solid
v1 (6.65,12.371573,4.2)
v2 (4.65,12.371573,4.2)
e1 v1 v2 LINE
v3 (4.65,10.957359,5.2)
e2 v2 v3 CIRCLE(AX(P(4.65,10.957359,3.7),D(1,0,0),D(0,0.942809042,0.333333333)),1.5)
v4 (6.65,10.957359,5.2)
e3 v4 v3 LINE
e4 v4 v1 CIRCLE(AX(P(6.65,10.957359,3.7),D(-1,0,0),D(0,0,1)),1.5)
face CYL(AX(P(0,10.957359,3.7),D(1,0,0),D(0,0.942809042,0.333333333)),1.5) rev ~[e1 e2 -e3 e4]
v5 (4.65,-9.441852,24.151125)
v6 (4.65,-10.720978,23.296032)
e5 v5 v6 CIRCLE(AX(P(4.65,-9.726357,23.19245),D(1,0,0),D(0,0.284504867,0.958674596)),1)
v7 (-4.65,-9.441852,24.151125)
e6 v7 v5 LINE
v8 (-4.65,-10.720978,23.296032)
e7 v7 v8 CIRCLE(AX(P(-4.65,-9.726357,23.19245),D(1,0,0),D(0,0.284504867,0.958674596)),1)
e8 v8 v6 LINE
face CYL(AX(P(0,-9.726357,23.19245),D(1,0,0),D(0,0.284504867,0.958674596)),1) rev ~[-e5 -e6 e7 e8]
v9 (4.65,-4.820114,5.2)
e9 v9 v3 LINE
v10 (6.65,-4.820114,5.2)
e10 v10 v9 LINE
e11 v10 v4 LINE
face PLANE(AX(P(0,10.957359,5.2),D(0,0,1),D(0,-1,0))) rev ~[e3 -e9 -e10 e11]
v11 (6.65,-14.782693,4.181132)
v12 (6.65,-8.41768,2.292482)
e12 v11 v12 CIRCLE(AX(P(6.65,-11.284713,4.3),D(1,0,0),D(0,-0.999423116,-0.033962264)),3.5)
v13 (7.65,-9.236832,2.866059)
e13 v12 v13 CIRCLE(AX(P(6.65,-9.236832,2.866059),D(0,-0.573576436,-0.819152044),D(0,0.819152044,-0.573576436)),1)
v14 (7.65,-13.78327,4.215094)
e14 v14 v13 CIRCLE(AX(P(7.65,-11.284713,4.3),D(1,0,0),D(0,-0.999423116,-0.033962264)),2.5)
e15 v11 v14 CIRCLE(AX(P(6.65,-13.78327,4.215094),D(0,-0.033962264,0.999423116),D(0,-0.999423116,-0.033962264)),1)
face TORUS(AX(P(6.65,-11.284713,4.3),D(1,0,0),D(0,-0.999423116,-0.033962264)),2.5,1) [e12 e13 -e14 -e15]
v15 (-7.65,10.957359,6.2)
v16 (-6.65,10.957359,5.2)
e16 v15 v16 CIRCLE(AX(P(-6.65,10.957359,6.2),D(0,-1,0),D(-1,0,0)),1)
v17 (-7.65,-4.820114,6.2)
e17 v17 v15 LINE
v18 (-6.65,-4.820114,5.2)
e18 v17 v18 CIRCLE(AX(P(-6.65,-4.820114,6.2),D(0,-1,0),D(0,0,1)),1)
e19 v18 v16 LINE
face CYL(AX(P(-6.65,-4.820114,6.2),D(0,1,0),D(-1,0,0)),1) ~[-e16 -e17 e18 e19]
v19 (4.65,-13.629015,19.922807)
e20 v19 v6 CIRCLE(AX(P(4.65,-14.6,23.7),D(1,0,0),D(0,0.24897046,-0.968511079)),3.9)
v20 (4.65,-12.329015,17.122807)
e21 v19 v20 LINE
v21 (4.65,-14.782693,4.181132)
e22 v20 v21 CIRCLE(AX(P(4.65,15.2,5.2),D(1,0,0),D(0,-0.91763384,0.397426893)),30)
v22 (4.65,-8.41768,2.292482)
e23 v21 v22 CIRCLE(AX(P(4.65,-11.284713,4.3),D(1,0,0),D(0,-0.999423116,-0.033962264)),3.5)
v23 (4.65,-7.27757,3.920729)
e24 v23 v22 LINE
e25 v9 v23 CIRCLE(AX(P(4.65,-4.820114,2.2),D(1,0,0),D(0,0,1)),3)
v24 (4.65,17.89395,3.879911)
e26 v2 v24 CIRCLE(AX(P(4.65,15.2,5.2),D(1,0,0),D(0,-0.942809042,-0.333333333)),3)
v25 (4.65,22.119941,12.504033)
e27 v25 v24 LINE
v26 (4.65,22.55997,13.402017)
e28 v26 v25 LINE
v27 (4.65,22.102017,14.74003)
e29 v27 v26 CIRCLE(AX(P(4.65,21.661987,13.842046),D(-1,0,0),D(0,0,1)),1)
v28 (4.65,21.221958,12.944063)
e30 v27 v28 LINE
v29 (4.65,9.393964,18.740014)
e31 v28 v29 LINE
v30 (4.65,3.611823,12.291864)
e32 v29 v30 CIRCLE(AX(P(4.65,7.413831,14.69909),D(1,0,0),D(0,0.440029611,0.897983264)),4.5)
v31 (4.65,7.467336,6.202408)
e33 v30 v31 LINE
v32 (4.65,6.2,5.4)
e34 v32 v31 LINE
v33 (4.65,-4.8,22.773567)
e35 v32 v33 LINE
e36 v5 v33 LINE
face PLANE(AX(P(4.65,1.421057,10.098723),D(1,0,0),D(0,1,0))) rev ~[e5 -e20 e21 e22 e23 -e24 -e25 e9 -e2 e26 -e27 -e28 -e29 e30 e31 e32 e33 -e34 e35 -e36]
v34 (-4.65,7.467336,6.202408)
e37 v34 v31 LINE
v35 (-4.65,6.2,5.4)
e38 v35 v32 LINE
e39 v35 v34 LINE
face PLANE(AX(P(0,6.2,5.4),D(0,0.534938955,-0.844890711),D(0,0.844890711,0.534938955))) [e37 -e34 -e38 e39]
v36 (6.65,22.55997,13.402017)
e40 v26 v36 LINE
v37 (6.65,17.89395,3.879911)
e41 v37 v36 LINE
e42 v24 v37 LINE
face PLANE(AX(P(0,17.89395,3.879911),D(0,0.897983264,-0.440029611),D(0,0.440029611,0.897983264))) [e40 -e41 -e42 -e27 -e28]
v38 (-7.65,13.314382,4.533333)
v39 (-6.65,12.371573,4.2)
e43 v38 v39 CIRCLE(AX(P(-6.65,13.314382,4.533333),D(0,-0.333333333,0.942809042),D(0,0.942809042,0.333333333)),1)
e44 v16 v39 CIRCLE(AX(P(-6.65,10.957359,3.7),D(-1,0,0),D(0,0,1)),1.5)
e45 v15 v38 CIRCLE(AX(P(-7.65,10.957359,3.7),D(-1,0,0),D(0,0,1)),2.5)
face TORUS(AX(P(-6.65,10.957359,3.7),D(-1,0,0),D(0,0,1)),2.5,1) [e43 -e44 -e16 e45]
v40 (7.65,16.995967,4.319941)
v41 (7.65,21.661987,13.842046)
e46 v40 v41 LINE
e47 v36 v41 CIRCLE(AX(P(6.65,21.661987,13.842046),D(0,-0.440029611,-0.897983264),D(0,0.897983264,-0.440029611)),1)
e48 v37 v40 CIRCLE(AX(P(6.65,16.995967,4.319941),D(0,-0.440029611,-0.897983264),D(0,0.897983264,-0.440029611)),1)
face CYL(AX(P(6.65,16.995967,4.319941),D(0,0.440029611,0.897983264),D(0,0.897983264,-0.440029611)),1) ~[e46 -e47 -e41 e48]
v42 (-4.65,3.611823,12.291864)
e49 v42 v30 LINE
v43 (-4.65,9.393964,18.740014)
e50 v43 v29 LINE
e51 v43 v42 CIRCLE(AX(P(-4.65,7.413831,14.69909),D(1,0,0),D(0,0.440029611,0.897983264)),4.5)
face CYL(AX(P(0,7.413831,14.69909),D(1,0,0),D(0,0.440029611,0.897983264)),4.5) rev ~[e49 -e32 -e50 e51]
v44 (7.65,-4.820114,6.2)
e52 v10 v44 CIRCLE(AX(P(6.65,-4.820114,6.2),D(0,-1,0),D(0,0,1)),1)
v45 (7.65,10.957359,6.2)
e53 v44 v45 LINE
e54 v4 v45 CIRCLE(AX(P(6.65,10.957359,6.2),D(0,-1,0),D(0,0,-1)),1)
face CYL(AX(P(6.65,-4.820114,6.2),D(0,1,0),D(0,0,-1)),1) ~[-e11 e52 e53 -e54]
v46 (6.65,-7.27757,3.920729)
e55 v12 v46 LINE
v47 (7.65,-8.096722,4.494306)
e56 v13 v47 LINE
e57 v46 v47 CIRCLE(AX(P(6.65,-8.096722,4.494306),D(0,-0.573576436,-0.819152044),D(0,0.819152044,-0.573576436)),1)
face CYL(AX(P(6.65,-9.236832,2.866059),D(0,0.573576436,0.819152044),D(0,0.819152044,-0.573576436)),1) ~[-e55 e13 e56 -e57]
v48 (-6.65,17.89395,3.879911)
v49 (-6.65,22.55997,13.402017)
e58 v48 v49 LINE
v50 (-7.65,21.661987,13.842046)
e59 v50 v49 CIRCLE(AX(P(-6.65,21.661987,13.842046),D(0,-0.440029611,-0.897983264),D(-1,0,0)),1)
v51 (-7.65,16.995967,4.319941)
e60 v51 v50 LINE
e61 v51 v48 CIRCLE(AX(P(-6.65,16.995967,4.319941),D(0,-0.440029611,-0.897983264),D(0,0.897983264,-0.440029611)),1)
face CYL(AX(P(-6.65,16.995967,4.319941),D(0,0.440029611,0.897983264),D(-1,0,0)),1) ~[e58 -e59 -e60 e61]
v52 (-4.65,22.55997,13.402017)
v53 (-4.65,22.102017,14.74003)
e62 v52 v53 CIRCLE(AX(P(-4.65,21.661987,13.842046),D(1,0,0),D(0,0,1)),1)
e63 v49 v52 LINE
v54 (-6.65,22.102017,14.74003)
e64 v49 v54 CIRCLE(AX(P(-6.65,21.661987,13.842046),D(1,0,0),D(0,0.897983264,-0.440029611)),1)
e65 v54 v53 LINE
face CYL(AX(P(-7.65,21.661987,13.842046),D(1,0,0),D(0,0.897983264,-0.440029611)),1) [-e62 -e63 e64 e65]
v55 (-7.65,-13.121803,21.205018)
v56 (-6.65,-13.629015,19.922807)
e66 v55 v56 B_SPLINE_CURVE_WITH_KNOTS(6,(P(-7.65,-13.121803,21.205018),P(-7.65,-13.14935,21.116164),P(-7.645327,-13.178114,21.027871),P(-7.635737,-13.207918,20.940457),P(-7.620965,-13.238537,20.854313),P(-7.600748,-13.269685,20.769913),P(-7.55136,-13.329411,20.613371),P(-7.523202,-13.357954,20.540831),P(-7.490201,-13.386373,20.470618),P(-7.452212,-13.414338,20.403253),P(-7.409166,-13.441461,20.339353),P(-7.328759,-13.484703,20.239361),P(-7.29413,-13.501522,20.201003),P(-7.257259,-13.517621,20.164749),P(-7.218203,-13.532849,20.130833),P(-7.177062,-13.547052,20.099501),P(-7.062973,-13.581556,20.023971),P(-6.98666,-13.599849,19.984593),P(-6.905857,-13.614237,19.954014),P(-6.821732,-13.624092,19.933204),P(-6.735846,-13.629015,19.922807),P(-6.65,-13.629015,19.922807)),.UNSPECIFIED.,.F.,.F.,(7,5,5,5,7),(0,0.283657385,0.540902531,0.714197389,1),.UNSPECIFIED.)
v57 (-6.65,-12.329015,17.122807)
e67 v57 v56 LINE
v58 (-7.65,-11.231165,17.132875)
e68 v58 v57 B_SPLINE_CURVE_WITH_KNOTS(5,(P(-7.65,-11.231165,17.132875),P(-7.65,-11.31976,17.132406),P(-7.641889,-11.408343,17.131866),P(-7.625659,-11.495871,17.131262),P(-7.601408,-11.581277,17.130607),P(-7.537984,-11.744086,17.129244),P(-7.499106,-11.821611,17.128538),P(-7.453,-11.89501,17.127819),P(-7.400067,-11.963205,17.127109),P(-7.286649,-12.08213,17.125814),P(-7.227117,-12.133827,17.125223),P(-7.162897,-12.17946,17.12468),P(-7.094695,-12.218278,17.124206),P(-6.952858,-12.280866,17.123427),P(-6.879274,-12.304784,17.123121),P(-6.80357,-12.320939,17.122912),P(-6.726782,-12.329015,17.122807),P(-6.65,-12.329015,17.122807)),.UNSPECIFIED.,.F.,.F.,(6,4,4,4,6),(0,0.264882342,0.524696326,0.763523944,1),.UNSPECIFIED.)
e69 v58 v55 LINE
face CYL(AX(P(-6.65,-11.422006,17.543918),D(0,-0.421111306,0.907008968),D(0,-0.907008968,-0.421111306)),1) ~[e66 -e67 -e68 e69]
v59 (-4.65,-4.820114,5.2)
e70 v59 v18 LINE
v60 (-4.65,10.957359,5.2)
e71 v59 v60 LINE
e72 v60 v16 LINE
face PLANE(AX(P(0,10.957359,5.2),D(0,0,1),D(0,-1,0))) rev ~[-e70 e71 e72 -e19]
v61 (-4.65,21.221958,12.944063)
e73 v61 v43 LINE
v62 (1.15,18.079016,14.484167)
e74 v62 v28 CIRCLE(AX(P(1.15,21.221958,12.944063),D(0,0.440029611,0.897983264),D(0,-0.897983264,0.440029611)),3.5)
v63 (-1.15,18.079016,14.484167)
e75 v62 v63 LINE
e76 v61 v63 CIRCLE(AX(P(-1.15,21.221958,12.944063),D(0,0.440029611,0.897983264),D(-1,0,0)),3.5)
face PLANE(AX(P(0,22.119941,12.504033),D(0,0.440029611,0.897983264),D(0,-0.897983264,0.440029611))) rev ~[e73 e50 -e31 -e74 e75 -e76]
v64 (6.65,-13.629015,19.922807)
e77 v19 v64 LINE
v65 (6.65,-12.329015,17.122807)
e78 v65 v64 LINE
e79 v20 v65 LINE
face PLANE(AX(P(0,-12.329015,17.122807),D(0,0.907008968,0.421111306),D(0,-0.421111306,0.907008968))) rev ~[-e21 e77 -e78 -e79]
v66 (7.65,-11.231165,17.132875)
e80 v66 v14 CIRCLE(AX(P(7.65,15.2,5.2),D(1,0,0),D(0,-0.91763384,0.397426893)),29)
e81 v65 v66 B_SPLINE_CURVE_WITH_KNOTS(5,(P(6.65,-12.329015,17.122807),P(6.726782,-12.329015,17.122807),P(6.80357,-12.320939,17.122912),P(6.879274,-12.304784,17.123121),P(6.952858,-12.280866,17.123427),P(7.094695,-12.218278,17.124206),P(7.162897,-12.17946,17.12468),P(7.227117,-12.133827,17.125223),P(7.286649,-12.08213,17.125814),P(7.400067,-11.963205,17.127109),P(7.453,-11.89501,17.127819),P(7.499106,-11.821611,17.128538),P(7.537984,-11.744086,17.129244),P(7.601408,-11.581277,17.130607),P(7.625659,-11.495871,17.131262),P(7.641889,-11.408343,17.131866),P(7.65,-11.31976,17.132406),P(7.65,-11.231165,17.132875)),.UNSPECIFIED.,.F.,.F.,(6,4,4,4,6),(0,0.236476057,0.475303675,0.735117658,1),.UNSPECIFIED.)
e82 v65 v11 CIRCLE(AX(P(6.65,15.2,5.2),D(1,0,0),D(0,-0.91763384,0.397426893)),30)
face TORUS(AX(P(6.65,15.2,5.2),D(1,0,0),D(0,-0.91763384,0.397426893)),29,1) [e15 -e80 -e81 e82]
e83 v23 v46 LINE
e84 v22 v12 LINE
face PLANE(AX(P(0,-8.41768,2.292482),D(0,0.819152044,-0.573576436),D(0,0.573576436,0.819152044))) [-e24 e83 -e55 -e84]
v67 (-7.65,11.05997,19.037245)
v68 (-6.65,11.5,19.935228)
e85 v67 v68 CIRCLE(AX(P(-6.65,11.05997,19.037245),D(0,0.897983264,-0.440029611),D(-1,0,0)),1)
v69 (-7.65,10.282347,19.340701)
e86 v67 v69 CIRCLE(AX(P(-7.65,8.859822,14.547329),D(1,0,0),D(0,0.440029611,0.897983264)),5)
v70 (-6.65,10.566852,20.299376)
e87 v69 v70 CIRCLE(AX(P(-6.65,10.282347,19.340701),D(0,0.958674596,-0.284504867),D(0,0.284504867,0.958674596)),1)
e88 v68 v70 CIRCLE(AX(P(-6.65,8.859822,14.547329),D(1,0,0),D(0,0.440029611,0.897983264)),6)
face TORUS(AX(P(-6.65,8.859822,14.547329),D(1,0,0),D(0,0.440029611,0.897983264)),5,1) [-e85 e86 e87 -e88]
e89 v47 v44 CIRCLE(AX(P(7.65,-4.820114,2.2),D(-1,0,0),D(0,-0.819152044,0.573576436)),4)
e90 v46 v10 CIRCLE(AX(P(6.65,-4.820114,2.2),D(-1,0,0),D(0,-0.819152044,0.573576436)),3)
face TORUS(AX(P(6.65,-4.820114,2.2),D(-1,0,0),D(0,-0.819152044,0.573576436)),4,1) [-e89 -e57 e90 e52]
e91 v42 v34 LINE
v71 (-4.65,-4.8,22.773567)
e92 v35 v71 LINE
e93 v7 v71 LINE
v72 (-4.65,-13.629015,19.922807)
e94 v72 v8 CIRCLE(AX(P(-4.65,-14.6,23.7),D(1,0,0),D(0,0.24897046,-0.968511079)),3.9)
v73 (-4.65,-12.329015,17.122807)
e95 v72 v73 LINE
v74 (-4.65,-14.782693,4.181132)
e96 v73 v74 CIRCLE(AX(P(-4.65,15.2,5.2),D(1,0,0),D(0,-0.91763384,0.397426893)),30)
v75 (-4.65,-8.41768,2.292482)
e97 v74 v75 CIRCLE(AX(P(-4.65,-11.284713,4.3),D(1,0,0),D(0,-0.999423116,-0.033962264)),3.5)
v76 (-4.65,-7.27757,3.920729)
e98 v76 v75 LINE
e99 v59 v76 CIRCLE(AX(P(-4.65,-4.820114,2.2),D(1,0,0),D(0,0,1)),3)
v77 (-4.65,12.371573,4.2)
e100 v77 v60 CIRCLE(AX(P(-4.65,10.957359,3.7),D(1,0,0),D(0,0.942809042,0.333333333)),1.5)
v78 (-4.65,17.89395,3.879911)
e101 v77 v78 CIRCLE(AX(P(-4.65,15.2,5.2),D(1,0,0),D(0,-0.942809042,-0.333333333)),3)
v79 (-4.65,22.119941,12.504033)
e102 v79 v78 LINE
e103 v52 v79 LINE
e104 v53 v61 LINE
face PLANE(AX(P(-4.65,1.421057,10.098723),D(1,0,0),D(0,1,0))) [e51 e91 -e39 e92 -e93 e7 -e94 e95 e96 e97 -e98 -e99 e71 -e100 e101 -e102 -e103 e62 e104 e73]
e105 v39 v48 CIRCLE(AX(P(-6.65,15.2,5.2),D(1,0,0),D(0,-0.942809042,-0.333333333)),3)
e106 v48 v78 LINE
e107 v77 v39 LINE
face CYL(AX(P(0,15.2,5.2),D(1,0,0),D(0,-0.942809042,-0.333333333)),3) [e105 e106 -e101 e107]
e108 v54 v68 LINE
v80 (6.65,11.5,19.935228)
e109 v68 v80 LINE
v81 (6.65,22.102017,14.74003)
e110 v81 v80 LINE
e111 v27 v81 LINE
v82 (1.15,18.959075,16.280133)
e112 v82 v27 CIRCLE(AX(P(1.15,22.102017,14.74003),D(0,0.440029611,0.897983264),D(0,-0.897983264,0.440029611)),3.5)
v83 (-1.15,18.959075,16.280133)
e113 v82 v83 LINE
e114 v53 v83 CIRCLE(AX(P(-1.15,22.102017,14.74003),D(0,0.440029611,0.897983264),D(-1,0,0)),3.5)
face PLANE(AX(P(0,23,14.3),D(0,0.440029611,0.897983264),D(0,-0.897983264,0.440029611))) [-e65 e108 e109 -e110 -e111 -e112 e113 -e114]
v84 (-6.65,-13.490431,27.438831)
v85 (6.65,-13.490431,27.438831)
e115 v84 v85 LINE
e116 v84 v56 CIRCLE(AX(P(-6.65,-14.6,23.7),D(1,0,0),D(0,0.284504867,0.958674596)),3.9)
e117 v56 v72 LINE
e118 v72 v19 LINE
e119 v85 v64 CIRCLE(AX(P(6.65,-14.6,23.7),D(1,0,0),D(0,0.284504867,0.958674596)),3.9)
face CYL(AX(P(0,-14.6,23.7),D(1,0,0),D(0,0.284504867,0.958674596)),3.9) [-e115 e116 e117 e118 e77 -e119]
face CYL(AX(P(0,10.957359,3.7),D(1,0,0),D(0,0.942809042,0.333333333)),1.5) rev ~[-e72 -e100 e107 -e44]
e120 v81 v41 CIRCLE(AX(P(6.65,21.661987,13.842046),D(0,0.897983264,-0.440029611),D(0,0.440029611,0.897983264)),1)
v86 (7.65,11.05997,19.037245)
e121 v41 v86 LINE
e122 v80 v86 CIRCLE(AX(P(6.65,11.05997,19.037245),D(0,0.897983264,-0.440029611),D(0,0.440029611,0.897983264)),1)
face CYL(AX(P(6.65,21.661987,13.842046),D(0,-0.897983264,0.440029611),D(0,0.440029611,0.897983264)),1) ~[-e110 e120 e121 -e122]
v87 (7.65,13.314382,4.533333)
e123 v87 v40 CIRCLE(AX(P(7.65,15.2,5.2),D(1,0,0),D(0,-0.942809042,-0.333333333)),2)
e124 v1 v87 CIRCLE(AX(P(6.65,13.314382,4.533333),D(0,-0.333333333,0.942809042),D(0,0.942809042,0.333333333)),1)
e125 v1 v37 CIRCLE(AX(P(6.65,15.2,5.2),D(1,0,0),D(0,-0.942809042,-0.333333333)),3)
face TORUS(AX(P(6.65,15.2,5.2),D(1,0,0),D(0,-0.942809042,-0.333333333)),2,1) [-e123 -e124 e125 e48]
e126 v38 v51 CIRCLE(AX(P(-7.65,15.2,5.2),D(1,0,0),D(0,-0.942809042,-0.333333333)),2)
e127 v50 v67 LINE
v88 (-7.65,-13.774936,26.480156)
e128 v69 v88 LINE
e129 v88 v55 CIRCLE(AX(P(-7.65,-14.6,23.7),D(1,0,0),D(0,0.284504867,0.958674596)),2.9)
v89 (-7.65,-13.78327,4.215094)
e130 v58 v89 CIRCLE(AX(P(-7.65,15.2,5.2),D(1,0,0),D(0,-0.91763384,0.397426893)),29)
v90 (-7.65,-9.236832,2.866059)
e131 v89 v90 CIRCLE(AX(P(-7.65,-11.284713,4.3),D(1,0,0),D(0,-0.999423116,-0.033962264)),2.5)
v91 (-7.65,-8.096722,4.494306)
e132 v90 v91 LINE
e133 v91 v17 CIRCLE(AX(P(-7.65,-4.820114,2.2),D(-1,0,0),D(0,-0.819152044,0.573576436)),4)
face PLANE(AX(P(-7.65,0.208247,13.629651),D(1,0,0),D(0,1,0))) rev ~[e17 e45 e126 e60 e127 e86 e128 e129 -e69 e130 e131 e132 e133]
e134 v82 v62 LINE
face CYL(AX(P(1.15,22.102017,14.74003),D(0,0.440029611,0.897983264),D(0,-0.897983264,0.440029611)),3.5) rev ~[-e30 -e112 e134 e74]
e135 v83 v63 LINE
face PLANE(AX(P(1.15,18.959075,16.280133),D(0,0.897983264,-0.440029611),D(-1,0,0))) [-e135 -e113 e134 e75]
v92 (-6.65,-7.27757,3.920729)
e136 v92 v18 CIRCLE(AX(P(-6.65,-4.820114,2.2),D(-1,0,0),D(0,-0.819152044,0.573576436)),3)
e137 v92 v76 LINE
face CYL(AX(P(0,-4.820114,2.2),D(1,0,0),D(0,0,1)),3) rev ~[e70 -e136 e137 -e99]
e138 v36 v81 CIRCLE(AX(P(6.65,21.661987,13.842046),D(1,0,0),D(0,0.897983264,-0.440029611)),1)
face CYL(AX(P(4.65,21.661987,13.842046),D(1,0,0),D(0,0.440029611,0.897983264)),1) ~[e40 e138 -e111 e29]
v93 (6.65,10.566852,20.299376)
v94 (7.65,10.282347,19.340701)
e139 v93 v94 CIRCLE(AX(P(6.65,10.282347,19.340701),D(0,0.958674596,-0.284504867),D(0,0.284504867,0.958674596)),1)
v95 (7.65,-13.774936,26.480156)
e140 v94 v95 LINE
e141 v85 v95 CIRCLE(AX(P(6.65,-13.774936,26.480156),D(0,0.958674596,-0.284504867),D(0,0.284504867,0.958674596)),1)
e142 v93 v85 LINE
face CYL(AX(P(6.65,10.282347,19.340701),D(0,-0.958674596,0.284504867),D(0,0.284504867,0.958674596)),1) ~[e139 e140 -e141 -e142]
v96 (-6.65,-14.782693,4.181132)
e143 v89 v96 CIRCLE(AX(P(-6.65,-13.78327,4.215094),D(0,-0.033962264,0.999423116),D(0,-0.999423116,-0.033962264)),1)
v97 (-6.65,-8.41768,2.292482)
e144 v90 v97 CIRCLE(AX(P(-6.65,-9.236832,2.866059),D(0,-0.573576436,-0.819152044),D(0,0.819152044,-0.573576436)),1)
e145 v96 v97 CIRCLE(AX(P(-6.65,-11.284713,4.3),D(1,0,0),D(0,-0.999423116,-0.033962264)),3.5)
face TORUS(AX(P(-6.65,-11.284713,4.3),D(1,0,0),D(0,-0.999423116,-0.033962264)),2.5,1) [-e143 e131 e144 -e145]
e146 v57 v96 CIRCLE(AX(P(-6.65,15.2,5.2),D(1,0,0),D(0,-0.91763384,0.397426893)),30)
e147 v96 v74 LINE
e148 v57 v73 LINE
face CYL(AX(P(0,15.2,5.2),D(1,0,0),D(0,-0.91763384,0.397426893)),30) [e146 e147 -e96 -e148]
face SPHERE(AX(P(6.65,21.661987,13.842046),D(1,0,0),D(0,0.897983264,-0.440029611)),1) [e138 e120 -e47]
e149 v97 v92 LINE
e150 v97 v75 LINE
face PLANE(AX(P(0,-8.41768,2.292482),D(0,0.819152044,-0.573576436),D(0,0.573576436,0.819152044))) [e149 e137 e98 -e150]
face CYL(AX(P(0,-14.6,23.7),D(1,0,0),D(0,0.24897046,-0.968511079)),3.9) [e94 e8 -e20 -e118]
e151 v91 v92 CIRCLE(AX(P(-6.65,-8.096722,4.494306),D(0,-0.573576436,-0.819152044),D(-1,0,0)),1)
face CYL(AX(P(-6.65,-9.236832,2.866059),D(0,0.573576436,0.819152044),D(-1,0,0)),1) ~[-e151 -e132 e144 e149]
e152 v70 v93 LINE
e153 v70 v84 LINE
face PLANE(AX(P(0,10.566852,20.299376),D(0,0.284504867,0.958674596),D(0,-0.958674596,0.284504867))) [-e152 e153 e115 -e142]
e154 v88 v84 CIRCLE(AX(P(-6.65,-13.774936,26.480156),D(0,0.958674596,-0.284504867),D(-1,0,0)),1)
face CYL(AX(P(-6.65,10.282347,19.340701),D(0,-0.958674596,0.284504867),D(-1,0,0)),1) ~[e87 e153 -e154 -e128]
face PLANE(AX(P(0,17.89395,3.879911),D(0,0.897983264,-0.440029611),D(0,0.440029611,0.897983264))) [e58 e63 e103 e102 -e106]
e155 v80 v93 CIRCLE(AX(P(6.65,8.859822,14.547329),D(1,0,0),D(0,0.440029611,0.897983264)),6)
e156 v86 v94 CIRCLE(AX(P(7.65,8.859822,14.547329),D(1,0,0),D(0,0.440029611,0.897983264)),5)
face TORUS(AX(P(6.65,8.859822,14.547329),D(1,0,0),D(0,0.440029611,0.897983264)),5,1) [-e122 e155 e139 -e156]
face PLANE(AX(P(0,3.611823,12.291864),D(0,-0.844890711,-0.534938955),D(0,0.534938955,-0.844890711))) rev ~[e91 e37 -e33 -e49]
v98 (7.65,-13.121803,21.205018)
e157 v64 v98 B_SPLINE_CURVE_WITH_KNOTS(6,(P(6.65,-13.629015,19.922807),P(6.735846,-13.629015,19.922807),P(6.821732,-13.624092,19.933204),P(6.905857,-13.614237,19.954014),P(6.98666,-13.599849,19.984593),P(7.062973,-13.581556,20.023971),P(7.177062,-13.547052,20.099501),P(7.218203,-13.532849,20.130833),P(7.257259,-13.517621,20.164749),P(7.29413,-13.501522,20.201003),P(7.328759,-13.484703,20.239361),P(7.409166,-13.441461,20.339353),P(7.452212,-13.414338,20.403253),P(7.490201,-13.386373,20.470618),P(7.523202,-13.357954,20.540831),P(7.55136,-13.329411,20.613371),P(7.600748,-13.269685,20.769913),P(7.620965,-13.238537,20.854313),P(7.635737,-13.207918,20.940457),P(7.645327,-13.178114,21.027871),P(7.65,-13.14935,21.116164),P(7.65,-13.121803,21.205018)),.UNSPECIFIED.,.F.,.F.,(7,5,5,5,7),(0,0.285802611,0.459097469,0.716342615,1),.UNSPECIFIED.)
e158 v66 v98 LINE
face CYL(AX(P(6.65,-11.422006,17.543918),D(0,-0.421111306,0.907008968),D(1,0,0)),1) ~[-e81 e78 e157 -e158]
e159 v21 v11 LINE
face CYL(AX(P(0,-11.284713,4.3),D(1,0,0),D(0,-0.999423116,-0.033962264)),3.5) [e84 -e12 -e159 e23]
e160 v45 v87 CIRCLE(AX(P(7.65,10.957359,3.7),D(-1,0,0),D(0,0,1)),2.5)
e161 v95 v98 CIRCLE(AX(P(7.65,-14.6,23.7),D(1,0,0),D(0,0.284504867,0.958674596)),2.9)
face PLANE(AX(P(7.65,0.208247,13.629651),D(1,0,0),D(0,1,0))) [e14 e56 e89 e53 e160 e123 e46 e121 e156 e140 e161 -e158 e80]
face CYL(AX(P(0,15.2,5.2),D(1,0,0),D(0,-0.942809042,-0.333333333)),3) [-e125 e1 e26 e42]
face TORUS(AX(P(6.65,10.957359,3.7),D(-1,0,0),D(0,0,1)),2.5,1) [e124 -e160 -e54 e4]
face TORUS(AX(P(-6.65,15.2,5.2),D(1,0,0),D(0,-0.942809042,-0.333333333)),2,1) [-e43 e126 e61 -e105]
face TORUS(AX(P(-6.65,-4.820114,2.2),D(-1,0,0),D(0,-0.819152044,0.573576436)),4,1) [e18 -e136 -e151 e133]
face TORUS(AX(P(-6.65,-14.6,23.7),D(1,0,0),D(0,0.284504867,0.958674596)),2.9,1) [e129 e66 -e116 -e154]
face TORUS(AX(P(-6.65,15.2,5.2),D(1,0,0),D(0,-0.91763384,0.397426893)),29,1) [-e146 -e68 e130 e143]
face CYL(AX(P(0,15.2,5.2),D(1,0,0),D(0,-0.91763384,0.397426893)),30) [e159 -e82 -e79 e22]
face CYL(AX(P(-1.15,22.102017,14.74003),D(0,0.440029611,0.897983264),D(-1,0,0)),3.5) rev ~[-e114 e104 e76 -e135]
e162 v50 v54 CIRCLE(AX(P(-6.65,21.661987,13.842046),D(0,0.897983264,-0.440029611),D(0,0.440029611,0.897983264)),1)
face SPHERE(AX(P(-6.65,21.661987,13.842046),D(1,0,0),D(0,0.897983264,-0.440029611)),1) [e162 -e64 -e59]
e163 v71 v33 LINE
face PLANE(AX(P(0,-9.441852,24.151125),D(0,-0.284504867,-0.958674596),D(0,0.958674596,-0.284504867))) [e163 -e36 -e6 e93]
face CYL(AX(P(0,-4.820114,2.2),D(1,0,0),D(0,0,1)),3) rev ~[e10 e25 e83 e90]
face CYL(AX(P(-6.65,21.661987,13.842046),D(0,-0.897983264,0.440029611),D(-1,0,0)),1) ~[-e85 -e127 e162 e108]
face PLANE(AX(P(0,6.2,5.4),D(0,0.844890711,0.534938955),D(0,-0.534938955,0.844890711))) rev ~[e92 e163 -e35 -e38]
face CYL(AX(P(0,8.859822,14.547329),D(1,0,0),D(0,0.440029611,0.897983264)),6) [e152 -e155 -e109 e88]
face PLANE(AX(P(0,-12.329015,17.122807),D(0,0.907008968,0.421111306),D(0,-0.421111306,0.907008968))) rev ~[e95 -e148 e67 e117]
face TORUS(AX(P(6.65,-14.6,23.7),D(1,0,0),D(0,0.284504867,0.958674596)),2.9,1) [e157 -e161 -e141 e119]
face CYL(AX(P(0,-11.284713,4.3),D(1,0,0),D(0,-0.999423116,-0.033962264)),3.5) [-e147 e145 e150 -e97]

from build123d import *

# Parameters (mm, degrees)
PAD004_DEPTH    = 7.65
POCKET003_DEPTH = 4.65
POCKET004_DEPTH = 2
FILLET007_R     = 1
FILLET008_R     = 1


with BuildPart() as part:
    # Sketch009 → Pad004 (new body, symmetric)
    with BuildSketch(Plane.YZ):
        with BuildLine():
            ThreePointArc((-2.8284271247, -1), (-0.1735950846, -2.9949732464), (2.6939497909, -1.3200888318))
            Line((2.6939497909, -1.3200888318), (7.8, 9.1))
            Line((7.8, 9.1), (-3.7, 14.7352281014))
            ThreePointArc((-3.7, 14.7352281014), (-4.158961759, 14.9368094594), (-4.6331484619, 15.0993760945))
            Line((-4.6331484619, 15.0993760945), (-28.6904310189, 22.2388309237))
            ThreePointArc((-28.6904310189, 22.2388309237), (-33.6993372116, 18.5718979166), (-28.8290152057, 14.7228067922))
            Line((-27.5290152057, 11.9228067922), (-28.8290152057, 14.7228067922))
            ThreePointArc((-27.5290152057, 11.9228067922), (-29.4749197629, 5.5883007232), (-29.9826934773, -1.0188679245))
            ThreePointArc((-29.9826934773, -1.0188679245), (-27.4803397166, -4.255402597), (-23.6176804166, -2.9075175272))
            Line((-23.6176804166, -2.9075175272), (-22.4775697078, -1.2792706909))
            ThreePointArc((-20.0201135749, 0), (-21.4053594146, -0.3389675005), (-22.4775697078, -1.2792706909))
            Line((-4.2426406871, 0), (-20.0201135749, 0))
            ThreePointArc((-2.8284271247, -1), (-3.3766152833, -0.2752551286), (-4.2426406871, 0))
        make_face()
    extrude(amount=PAD004_DEPTH, both=True)

    # Sketch010 → Pocket003 (cut, symmetric)
    with BuildSketch(Plane.YZ):
        with BuildLine():
            Line((6.9199407788, 7.3040334727), (-5.8060355253, 13.5400142802))
            ThreePointArc((-5.8060355253, 13.5400142802), (-11.1364622888, 12.5033421393), (-11.5881769744, 7.0918642957))
            Line((-11.5881769744, 7.0918642957), (-7.7326639328, 1.0024084327))
            Line((-9, 0.2), (-7.7326639328, 1.0024084327))
            Line((-9, 0.2), (-20, 17.5735670895))
            Line((-24.6418524264, 18.9511248267), (-20, 17.5735670895))
            ThreePointArc((-24.6418524264, 18.9511248267), (-25.4821110434, 18.8237971917), (-25.9209782539, 18.0960318164))
            ThreePointArc((-28.8290152057, 14.7228067922), (-26.8461376765, 15.9534931036), (-25.9209782539, 18.0960318164))
            Line((-28.8290152057, 14.7228067922), (-34.6400816793, 13.2289840317))
            Line((-34.6400816793, 13.2289840317), (-31.0800592212, -4.6959665273))
            Line((-31.0800592212, -4.6959665273), (6.9199407788, -4.6959665273))
            Line((6.9199407788, -4.6959665273), (6.9199407788, 7.3040334727))
        make_face()
    extrude(amount=POCKET003_DEPTH, both=True, mode=Mode.SUBTRACT)

    # Sketch011 (on Face6 of Pocket003) → Pocket004 (cut)
    with BuildSketch(Plane(origin=(0, 5.1060502091, 10.4200888318), x_dir=(0, -0.8979832636, 0.4400296106), z_dir=(0, 0.4400296106, 0.8979832636))):
        with BuildLine():
            Line((-3, 4.65), (-2, 4.65))
            ThreePointArc((1.5, 1.15), (0.4748737342, 3.6248737342), (-2, 4.65))
            Line((1.5, 1.15), (1.5, -1.15))
            ThreePointArc((-2, -4.65), (0.4748737342, -3.6248737342), (1.5, -1.15))
            Line((-2, -4.65), (-3, -4.65))
            Line((-3, -4.65), (-3, 4.65))
        make_face()
    extrude(amount=-POCKET004_DEPTH, mode=Mode.SUBTRACT)

    # Fillet007
    fillet007_edges = [part.edges().sort_by_distance(p)[0] for p in [
        (-6.15, 7.8, 9.1),
        (6.15, 7.8, 9.1),
    ]]
    fillet(fillet007_edges, radius=FILLET007_R)

    # Fillet008
    fillet008_edges = [part.edges().sort_by_distance(p)[0] for p in [
        (7.65, -16.66179, 18.669104),
        (-7.65, -16.66179, 18.669104),
        (-7.65, -28.179015, 13.322807),
        (7.65, -28.179015, 13.322807),
    ]]
    fillet(fillet008_edges, radius=FILLET008_R)


with BuildPart() as part_1:
    # Body003 placement: moved
    add(part.part.moved(Location((0, 15.2, 5.2))))


solid = part_1.part
